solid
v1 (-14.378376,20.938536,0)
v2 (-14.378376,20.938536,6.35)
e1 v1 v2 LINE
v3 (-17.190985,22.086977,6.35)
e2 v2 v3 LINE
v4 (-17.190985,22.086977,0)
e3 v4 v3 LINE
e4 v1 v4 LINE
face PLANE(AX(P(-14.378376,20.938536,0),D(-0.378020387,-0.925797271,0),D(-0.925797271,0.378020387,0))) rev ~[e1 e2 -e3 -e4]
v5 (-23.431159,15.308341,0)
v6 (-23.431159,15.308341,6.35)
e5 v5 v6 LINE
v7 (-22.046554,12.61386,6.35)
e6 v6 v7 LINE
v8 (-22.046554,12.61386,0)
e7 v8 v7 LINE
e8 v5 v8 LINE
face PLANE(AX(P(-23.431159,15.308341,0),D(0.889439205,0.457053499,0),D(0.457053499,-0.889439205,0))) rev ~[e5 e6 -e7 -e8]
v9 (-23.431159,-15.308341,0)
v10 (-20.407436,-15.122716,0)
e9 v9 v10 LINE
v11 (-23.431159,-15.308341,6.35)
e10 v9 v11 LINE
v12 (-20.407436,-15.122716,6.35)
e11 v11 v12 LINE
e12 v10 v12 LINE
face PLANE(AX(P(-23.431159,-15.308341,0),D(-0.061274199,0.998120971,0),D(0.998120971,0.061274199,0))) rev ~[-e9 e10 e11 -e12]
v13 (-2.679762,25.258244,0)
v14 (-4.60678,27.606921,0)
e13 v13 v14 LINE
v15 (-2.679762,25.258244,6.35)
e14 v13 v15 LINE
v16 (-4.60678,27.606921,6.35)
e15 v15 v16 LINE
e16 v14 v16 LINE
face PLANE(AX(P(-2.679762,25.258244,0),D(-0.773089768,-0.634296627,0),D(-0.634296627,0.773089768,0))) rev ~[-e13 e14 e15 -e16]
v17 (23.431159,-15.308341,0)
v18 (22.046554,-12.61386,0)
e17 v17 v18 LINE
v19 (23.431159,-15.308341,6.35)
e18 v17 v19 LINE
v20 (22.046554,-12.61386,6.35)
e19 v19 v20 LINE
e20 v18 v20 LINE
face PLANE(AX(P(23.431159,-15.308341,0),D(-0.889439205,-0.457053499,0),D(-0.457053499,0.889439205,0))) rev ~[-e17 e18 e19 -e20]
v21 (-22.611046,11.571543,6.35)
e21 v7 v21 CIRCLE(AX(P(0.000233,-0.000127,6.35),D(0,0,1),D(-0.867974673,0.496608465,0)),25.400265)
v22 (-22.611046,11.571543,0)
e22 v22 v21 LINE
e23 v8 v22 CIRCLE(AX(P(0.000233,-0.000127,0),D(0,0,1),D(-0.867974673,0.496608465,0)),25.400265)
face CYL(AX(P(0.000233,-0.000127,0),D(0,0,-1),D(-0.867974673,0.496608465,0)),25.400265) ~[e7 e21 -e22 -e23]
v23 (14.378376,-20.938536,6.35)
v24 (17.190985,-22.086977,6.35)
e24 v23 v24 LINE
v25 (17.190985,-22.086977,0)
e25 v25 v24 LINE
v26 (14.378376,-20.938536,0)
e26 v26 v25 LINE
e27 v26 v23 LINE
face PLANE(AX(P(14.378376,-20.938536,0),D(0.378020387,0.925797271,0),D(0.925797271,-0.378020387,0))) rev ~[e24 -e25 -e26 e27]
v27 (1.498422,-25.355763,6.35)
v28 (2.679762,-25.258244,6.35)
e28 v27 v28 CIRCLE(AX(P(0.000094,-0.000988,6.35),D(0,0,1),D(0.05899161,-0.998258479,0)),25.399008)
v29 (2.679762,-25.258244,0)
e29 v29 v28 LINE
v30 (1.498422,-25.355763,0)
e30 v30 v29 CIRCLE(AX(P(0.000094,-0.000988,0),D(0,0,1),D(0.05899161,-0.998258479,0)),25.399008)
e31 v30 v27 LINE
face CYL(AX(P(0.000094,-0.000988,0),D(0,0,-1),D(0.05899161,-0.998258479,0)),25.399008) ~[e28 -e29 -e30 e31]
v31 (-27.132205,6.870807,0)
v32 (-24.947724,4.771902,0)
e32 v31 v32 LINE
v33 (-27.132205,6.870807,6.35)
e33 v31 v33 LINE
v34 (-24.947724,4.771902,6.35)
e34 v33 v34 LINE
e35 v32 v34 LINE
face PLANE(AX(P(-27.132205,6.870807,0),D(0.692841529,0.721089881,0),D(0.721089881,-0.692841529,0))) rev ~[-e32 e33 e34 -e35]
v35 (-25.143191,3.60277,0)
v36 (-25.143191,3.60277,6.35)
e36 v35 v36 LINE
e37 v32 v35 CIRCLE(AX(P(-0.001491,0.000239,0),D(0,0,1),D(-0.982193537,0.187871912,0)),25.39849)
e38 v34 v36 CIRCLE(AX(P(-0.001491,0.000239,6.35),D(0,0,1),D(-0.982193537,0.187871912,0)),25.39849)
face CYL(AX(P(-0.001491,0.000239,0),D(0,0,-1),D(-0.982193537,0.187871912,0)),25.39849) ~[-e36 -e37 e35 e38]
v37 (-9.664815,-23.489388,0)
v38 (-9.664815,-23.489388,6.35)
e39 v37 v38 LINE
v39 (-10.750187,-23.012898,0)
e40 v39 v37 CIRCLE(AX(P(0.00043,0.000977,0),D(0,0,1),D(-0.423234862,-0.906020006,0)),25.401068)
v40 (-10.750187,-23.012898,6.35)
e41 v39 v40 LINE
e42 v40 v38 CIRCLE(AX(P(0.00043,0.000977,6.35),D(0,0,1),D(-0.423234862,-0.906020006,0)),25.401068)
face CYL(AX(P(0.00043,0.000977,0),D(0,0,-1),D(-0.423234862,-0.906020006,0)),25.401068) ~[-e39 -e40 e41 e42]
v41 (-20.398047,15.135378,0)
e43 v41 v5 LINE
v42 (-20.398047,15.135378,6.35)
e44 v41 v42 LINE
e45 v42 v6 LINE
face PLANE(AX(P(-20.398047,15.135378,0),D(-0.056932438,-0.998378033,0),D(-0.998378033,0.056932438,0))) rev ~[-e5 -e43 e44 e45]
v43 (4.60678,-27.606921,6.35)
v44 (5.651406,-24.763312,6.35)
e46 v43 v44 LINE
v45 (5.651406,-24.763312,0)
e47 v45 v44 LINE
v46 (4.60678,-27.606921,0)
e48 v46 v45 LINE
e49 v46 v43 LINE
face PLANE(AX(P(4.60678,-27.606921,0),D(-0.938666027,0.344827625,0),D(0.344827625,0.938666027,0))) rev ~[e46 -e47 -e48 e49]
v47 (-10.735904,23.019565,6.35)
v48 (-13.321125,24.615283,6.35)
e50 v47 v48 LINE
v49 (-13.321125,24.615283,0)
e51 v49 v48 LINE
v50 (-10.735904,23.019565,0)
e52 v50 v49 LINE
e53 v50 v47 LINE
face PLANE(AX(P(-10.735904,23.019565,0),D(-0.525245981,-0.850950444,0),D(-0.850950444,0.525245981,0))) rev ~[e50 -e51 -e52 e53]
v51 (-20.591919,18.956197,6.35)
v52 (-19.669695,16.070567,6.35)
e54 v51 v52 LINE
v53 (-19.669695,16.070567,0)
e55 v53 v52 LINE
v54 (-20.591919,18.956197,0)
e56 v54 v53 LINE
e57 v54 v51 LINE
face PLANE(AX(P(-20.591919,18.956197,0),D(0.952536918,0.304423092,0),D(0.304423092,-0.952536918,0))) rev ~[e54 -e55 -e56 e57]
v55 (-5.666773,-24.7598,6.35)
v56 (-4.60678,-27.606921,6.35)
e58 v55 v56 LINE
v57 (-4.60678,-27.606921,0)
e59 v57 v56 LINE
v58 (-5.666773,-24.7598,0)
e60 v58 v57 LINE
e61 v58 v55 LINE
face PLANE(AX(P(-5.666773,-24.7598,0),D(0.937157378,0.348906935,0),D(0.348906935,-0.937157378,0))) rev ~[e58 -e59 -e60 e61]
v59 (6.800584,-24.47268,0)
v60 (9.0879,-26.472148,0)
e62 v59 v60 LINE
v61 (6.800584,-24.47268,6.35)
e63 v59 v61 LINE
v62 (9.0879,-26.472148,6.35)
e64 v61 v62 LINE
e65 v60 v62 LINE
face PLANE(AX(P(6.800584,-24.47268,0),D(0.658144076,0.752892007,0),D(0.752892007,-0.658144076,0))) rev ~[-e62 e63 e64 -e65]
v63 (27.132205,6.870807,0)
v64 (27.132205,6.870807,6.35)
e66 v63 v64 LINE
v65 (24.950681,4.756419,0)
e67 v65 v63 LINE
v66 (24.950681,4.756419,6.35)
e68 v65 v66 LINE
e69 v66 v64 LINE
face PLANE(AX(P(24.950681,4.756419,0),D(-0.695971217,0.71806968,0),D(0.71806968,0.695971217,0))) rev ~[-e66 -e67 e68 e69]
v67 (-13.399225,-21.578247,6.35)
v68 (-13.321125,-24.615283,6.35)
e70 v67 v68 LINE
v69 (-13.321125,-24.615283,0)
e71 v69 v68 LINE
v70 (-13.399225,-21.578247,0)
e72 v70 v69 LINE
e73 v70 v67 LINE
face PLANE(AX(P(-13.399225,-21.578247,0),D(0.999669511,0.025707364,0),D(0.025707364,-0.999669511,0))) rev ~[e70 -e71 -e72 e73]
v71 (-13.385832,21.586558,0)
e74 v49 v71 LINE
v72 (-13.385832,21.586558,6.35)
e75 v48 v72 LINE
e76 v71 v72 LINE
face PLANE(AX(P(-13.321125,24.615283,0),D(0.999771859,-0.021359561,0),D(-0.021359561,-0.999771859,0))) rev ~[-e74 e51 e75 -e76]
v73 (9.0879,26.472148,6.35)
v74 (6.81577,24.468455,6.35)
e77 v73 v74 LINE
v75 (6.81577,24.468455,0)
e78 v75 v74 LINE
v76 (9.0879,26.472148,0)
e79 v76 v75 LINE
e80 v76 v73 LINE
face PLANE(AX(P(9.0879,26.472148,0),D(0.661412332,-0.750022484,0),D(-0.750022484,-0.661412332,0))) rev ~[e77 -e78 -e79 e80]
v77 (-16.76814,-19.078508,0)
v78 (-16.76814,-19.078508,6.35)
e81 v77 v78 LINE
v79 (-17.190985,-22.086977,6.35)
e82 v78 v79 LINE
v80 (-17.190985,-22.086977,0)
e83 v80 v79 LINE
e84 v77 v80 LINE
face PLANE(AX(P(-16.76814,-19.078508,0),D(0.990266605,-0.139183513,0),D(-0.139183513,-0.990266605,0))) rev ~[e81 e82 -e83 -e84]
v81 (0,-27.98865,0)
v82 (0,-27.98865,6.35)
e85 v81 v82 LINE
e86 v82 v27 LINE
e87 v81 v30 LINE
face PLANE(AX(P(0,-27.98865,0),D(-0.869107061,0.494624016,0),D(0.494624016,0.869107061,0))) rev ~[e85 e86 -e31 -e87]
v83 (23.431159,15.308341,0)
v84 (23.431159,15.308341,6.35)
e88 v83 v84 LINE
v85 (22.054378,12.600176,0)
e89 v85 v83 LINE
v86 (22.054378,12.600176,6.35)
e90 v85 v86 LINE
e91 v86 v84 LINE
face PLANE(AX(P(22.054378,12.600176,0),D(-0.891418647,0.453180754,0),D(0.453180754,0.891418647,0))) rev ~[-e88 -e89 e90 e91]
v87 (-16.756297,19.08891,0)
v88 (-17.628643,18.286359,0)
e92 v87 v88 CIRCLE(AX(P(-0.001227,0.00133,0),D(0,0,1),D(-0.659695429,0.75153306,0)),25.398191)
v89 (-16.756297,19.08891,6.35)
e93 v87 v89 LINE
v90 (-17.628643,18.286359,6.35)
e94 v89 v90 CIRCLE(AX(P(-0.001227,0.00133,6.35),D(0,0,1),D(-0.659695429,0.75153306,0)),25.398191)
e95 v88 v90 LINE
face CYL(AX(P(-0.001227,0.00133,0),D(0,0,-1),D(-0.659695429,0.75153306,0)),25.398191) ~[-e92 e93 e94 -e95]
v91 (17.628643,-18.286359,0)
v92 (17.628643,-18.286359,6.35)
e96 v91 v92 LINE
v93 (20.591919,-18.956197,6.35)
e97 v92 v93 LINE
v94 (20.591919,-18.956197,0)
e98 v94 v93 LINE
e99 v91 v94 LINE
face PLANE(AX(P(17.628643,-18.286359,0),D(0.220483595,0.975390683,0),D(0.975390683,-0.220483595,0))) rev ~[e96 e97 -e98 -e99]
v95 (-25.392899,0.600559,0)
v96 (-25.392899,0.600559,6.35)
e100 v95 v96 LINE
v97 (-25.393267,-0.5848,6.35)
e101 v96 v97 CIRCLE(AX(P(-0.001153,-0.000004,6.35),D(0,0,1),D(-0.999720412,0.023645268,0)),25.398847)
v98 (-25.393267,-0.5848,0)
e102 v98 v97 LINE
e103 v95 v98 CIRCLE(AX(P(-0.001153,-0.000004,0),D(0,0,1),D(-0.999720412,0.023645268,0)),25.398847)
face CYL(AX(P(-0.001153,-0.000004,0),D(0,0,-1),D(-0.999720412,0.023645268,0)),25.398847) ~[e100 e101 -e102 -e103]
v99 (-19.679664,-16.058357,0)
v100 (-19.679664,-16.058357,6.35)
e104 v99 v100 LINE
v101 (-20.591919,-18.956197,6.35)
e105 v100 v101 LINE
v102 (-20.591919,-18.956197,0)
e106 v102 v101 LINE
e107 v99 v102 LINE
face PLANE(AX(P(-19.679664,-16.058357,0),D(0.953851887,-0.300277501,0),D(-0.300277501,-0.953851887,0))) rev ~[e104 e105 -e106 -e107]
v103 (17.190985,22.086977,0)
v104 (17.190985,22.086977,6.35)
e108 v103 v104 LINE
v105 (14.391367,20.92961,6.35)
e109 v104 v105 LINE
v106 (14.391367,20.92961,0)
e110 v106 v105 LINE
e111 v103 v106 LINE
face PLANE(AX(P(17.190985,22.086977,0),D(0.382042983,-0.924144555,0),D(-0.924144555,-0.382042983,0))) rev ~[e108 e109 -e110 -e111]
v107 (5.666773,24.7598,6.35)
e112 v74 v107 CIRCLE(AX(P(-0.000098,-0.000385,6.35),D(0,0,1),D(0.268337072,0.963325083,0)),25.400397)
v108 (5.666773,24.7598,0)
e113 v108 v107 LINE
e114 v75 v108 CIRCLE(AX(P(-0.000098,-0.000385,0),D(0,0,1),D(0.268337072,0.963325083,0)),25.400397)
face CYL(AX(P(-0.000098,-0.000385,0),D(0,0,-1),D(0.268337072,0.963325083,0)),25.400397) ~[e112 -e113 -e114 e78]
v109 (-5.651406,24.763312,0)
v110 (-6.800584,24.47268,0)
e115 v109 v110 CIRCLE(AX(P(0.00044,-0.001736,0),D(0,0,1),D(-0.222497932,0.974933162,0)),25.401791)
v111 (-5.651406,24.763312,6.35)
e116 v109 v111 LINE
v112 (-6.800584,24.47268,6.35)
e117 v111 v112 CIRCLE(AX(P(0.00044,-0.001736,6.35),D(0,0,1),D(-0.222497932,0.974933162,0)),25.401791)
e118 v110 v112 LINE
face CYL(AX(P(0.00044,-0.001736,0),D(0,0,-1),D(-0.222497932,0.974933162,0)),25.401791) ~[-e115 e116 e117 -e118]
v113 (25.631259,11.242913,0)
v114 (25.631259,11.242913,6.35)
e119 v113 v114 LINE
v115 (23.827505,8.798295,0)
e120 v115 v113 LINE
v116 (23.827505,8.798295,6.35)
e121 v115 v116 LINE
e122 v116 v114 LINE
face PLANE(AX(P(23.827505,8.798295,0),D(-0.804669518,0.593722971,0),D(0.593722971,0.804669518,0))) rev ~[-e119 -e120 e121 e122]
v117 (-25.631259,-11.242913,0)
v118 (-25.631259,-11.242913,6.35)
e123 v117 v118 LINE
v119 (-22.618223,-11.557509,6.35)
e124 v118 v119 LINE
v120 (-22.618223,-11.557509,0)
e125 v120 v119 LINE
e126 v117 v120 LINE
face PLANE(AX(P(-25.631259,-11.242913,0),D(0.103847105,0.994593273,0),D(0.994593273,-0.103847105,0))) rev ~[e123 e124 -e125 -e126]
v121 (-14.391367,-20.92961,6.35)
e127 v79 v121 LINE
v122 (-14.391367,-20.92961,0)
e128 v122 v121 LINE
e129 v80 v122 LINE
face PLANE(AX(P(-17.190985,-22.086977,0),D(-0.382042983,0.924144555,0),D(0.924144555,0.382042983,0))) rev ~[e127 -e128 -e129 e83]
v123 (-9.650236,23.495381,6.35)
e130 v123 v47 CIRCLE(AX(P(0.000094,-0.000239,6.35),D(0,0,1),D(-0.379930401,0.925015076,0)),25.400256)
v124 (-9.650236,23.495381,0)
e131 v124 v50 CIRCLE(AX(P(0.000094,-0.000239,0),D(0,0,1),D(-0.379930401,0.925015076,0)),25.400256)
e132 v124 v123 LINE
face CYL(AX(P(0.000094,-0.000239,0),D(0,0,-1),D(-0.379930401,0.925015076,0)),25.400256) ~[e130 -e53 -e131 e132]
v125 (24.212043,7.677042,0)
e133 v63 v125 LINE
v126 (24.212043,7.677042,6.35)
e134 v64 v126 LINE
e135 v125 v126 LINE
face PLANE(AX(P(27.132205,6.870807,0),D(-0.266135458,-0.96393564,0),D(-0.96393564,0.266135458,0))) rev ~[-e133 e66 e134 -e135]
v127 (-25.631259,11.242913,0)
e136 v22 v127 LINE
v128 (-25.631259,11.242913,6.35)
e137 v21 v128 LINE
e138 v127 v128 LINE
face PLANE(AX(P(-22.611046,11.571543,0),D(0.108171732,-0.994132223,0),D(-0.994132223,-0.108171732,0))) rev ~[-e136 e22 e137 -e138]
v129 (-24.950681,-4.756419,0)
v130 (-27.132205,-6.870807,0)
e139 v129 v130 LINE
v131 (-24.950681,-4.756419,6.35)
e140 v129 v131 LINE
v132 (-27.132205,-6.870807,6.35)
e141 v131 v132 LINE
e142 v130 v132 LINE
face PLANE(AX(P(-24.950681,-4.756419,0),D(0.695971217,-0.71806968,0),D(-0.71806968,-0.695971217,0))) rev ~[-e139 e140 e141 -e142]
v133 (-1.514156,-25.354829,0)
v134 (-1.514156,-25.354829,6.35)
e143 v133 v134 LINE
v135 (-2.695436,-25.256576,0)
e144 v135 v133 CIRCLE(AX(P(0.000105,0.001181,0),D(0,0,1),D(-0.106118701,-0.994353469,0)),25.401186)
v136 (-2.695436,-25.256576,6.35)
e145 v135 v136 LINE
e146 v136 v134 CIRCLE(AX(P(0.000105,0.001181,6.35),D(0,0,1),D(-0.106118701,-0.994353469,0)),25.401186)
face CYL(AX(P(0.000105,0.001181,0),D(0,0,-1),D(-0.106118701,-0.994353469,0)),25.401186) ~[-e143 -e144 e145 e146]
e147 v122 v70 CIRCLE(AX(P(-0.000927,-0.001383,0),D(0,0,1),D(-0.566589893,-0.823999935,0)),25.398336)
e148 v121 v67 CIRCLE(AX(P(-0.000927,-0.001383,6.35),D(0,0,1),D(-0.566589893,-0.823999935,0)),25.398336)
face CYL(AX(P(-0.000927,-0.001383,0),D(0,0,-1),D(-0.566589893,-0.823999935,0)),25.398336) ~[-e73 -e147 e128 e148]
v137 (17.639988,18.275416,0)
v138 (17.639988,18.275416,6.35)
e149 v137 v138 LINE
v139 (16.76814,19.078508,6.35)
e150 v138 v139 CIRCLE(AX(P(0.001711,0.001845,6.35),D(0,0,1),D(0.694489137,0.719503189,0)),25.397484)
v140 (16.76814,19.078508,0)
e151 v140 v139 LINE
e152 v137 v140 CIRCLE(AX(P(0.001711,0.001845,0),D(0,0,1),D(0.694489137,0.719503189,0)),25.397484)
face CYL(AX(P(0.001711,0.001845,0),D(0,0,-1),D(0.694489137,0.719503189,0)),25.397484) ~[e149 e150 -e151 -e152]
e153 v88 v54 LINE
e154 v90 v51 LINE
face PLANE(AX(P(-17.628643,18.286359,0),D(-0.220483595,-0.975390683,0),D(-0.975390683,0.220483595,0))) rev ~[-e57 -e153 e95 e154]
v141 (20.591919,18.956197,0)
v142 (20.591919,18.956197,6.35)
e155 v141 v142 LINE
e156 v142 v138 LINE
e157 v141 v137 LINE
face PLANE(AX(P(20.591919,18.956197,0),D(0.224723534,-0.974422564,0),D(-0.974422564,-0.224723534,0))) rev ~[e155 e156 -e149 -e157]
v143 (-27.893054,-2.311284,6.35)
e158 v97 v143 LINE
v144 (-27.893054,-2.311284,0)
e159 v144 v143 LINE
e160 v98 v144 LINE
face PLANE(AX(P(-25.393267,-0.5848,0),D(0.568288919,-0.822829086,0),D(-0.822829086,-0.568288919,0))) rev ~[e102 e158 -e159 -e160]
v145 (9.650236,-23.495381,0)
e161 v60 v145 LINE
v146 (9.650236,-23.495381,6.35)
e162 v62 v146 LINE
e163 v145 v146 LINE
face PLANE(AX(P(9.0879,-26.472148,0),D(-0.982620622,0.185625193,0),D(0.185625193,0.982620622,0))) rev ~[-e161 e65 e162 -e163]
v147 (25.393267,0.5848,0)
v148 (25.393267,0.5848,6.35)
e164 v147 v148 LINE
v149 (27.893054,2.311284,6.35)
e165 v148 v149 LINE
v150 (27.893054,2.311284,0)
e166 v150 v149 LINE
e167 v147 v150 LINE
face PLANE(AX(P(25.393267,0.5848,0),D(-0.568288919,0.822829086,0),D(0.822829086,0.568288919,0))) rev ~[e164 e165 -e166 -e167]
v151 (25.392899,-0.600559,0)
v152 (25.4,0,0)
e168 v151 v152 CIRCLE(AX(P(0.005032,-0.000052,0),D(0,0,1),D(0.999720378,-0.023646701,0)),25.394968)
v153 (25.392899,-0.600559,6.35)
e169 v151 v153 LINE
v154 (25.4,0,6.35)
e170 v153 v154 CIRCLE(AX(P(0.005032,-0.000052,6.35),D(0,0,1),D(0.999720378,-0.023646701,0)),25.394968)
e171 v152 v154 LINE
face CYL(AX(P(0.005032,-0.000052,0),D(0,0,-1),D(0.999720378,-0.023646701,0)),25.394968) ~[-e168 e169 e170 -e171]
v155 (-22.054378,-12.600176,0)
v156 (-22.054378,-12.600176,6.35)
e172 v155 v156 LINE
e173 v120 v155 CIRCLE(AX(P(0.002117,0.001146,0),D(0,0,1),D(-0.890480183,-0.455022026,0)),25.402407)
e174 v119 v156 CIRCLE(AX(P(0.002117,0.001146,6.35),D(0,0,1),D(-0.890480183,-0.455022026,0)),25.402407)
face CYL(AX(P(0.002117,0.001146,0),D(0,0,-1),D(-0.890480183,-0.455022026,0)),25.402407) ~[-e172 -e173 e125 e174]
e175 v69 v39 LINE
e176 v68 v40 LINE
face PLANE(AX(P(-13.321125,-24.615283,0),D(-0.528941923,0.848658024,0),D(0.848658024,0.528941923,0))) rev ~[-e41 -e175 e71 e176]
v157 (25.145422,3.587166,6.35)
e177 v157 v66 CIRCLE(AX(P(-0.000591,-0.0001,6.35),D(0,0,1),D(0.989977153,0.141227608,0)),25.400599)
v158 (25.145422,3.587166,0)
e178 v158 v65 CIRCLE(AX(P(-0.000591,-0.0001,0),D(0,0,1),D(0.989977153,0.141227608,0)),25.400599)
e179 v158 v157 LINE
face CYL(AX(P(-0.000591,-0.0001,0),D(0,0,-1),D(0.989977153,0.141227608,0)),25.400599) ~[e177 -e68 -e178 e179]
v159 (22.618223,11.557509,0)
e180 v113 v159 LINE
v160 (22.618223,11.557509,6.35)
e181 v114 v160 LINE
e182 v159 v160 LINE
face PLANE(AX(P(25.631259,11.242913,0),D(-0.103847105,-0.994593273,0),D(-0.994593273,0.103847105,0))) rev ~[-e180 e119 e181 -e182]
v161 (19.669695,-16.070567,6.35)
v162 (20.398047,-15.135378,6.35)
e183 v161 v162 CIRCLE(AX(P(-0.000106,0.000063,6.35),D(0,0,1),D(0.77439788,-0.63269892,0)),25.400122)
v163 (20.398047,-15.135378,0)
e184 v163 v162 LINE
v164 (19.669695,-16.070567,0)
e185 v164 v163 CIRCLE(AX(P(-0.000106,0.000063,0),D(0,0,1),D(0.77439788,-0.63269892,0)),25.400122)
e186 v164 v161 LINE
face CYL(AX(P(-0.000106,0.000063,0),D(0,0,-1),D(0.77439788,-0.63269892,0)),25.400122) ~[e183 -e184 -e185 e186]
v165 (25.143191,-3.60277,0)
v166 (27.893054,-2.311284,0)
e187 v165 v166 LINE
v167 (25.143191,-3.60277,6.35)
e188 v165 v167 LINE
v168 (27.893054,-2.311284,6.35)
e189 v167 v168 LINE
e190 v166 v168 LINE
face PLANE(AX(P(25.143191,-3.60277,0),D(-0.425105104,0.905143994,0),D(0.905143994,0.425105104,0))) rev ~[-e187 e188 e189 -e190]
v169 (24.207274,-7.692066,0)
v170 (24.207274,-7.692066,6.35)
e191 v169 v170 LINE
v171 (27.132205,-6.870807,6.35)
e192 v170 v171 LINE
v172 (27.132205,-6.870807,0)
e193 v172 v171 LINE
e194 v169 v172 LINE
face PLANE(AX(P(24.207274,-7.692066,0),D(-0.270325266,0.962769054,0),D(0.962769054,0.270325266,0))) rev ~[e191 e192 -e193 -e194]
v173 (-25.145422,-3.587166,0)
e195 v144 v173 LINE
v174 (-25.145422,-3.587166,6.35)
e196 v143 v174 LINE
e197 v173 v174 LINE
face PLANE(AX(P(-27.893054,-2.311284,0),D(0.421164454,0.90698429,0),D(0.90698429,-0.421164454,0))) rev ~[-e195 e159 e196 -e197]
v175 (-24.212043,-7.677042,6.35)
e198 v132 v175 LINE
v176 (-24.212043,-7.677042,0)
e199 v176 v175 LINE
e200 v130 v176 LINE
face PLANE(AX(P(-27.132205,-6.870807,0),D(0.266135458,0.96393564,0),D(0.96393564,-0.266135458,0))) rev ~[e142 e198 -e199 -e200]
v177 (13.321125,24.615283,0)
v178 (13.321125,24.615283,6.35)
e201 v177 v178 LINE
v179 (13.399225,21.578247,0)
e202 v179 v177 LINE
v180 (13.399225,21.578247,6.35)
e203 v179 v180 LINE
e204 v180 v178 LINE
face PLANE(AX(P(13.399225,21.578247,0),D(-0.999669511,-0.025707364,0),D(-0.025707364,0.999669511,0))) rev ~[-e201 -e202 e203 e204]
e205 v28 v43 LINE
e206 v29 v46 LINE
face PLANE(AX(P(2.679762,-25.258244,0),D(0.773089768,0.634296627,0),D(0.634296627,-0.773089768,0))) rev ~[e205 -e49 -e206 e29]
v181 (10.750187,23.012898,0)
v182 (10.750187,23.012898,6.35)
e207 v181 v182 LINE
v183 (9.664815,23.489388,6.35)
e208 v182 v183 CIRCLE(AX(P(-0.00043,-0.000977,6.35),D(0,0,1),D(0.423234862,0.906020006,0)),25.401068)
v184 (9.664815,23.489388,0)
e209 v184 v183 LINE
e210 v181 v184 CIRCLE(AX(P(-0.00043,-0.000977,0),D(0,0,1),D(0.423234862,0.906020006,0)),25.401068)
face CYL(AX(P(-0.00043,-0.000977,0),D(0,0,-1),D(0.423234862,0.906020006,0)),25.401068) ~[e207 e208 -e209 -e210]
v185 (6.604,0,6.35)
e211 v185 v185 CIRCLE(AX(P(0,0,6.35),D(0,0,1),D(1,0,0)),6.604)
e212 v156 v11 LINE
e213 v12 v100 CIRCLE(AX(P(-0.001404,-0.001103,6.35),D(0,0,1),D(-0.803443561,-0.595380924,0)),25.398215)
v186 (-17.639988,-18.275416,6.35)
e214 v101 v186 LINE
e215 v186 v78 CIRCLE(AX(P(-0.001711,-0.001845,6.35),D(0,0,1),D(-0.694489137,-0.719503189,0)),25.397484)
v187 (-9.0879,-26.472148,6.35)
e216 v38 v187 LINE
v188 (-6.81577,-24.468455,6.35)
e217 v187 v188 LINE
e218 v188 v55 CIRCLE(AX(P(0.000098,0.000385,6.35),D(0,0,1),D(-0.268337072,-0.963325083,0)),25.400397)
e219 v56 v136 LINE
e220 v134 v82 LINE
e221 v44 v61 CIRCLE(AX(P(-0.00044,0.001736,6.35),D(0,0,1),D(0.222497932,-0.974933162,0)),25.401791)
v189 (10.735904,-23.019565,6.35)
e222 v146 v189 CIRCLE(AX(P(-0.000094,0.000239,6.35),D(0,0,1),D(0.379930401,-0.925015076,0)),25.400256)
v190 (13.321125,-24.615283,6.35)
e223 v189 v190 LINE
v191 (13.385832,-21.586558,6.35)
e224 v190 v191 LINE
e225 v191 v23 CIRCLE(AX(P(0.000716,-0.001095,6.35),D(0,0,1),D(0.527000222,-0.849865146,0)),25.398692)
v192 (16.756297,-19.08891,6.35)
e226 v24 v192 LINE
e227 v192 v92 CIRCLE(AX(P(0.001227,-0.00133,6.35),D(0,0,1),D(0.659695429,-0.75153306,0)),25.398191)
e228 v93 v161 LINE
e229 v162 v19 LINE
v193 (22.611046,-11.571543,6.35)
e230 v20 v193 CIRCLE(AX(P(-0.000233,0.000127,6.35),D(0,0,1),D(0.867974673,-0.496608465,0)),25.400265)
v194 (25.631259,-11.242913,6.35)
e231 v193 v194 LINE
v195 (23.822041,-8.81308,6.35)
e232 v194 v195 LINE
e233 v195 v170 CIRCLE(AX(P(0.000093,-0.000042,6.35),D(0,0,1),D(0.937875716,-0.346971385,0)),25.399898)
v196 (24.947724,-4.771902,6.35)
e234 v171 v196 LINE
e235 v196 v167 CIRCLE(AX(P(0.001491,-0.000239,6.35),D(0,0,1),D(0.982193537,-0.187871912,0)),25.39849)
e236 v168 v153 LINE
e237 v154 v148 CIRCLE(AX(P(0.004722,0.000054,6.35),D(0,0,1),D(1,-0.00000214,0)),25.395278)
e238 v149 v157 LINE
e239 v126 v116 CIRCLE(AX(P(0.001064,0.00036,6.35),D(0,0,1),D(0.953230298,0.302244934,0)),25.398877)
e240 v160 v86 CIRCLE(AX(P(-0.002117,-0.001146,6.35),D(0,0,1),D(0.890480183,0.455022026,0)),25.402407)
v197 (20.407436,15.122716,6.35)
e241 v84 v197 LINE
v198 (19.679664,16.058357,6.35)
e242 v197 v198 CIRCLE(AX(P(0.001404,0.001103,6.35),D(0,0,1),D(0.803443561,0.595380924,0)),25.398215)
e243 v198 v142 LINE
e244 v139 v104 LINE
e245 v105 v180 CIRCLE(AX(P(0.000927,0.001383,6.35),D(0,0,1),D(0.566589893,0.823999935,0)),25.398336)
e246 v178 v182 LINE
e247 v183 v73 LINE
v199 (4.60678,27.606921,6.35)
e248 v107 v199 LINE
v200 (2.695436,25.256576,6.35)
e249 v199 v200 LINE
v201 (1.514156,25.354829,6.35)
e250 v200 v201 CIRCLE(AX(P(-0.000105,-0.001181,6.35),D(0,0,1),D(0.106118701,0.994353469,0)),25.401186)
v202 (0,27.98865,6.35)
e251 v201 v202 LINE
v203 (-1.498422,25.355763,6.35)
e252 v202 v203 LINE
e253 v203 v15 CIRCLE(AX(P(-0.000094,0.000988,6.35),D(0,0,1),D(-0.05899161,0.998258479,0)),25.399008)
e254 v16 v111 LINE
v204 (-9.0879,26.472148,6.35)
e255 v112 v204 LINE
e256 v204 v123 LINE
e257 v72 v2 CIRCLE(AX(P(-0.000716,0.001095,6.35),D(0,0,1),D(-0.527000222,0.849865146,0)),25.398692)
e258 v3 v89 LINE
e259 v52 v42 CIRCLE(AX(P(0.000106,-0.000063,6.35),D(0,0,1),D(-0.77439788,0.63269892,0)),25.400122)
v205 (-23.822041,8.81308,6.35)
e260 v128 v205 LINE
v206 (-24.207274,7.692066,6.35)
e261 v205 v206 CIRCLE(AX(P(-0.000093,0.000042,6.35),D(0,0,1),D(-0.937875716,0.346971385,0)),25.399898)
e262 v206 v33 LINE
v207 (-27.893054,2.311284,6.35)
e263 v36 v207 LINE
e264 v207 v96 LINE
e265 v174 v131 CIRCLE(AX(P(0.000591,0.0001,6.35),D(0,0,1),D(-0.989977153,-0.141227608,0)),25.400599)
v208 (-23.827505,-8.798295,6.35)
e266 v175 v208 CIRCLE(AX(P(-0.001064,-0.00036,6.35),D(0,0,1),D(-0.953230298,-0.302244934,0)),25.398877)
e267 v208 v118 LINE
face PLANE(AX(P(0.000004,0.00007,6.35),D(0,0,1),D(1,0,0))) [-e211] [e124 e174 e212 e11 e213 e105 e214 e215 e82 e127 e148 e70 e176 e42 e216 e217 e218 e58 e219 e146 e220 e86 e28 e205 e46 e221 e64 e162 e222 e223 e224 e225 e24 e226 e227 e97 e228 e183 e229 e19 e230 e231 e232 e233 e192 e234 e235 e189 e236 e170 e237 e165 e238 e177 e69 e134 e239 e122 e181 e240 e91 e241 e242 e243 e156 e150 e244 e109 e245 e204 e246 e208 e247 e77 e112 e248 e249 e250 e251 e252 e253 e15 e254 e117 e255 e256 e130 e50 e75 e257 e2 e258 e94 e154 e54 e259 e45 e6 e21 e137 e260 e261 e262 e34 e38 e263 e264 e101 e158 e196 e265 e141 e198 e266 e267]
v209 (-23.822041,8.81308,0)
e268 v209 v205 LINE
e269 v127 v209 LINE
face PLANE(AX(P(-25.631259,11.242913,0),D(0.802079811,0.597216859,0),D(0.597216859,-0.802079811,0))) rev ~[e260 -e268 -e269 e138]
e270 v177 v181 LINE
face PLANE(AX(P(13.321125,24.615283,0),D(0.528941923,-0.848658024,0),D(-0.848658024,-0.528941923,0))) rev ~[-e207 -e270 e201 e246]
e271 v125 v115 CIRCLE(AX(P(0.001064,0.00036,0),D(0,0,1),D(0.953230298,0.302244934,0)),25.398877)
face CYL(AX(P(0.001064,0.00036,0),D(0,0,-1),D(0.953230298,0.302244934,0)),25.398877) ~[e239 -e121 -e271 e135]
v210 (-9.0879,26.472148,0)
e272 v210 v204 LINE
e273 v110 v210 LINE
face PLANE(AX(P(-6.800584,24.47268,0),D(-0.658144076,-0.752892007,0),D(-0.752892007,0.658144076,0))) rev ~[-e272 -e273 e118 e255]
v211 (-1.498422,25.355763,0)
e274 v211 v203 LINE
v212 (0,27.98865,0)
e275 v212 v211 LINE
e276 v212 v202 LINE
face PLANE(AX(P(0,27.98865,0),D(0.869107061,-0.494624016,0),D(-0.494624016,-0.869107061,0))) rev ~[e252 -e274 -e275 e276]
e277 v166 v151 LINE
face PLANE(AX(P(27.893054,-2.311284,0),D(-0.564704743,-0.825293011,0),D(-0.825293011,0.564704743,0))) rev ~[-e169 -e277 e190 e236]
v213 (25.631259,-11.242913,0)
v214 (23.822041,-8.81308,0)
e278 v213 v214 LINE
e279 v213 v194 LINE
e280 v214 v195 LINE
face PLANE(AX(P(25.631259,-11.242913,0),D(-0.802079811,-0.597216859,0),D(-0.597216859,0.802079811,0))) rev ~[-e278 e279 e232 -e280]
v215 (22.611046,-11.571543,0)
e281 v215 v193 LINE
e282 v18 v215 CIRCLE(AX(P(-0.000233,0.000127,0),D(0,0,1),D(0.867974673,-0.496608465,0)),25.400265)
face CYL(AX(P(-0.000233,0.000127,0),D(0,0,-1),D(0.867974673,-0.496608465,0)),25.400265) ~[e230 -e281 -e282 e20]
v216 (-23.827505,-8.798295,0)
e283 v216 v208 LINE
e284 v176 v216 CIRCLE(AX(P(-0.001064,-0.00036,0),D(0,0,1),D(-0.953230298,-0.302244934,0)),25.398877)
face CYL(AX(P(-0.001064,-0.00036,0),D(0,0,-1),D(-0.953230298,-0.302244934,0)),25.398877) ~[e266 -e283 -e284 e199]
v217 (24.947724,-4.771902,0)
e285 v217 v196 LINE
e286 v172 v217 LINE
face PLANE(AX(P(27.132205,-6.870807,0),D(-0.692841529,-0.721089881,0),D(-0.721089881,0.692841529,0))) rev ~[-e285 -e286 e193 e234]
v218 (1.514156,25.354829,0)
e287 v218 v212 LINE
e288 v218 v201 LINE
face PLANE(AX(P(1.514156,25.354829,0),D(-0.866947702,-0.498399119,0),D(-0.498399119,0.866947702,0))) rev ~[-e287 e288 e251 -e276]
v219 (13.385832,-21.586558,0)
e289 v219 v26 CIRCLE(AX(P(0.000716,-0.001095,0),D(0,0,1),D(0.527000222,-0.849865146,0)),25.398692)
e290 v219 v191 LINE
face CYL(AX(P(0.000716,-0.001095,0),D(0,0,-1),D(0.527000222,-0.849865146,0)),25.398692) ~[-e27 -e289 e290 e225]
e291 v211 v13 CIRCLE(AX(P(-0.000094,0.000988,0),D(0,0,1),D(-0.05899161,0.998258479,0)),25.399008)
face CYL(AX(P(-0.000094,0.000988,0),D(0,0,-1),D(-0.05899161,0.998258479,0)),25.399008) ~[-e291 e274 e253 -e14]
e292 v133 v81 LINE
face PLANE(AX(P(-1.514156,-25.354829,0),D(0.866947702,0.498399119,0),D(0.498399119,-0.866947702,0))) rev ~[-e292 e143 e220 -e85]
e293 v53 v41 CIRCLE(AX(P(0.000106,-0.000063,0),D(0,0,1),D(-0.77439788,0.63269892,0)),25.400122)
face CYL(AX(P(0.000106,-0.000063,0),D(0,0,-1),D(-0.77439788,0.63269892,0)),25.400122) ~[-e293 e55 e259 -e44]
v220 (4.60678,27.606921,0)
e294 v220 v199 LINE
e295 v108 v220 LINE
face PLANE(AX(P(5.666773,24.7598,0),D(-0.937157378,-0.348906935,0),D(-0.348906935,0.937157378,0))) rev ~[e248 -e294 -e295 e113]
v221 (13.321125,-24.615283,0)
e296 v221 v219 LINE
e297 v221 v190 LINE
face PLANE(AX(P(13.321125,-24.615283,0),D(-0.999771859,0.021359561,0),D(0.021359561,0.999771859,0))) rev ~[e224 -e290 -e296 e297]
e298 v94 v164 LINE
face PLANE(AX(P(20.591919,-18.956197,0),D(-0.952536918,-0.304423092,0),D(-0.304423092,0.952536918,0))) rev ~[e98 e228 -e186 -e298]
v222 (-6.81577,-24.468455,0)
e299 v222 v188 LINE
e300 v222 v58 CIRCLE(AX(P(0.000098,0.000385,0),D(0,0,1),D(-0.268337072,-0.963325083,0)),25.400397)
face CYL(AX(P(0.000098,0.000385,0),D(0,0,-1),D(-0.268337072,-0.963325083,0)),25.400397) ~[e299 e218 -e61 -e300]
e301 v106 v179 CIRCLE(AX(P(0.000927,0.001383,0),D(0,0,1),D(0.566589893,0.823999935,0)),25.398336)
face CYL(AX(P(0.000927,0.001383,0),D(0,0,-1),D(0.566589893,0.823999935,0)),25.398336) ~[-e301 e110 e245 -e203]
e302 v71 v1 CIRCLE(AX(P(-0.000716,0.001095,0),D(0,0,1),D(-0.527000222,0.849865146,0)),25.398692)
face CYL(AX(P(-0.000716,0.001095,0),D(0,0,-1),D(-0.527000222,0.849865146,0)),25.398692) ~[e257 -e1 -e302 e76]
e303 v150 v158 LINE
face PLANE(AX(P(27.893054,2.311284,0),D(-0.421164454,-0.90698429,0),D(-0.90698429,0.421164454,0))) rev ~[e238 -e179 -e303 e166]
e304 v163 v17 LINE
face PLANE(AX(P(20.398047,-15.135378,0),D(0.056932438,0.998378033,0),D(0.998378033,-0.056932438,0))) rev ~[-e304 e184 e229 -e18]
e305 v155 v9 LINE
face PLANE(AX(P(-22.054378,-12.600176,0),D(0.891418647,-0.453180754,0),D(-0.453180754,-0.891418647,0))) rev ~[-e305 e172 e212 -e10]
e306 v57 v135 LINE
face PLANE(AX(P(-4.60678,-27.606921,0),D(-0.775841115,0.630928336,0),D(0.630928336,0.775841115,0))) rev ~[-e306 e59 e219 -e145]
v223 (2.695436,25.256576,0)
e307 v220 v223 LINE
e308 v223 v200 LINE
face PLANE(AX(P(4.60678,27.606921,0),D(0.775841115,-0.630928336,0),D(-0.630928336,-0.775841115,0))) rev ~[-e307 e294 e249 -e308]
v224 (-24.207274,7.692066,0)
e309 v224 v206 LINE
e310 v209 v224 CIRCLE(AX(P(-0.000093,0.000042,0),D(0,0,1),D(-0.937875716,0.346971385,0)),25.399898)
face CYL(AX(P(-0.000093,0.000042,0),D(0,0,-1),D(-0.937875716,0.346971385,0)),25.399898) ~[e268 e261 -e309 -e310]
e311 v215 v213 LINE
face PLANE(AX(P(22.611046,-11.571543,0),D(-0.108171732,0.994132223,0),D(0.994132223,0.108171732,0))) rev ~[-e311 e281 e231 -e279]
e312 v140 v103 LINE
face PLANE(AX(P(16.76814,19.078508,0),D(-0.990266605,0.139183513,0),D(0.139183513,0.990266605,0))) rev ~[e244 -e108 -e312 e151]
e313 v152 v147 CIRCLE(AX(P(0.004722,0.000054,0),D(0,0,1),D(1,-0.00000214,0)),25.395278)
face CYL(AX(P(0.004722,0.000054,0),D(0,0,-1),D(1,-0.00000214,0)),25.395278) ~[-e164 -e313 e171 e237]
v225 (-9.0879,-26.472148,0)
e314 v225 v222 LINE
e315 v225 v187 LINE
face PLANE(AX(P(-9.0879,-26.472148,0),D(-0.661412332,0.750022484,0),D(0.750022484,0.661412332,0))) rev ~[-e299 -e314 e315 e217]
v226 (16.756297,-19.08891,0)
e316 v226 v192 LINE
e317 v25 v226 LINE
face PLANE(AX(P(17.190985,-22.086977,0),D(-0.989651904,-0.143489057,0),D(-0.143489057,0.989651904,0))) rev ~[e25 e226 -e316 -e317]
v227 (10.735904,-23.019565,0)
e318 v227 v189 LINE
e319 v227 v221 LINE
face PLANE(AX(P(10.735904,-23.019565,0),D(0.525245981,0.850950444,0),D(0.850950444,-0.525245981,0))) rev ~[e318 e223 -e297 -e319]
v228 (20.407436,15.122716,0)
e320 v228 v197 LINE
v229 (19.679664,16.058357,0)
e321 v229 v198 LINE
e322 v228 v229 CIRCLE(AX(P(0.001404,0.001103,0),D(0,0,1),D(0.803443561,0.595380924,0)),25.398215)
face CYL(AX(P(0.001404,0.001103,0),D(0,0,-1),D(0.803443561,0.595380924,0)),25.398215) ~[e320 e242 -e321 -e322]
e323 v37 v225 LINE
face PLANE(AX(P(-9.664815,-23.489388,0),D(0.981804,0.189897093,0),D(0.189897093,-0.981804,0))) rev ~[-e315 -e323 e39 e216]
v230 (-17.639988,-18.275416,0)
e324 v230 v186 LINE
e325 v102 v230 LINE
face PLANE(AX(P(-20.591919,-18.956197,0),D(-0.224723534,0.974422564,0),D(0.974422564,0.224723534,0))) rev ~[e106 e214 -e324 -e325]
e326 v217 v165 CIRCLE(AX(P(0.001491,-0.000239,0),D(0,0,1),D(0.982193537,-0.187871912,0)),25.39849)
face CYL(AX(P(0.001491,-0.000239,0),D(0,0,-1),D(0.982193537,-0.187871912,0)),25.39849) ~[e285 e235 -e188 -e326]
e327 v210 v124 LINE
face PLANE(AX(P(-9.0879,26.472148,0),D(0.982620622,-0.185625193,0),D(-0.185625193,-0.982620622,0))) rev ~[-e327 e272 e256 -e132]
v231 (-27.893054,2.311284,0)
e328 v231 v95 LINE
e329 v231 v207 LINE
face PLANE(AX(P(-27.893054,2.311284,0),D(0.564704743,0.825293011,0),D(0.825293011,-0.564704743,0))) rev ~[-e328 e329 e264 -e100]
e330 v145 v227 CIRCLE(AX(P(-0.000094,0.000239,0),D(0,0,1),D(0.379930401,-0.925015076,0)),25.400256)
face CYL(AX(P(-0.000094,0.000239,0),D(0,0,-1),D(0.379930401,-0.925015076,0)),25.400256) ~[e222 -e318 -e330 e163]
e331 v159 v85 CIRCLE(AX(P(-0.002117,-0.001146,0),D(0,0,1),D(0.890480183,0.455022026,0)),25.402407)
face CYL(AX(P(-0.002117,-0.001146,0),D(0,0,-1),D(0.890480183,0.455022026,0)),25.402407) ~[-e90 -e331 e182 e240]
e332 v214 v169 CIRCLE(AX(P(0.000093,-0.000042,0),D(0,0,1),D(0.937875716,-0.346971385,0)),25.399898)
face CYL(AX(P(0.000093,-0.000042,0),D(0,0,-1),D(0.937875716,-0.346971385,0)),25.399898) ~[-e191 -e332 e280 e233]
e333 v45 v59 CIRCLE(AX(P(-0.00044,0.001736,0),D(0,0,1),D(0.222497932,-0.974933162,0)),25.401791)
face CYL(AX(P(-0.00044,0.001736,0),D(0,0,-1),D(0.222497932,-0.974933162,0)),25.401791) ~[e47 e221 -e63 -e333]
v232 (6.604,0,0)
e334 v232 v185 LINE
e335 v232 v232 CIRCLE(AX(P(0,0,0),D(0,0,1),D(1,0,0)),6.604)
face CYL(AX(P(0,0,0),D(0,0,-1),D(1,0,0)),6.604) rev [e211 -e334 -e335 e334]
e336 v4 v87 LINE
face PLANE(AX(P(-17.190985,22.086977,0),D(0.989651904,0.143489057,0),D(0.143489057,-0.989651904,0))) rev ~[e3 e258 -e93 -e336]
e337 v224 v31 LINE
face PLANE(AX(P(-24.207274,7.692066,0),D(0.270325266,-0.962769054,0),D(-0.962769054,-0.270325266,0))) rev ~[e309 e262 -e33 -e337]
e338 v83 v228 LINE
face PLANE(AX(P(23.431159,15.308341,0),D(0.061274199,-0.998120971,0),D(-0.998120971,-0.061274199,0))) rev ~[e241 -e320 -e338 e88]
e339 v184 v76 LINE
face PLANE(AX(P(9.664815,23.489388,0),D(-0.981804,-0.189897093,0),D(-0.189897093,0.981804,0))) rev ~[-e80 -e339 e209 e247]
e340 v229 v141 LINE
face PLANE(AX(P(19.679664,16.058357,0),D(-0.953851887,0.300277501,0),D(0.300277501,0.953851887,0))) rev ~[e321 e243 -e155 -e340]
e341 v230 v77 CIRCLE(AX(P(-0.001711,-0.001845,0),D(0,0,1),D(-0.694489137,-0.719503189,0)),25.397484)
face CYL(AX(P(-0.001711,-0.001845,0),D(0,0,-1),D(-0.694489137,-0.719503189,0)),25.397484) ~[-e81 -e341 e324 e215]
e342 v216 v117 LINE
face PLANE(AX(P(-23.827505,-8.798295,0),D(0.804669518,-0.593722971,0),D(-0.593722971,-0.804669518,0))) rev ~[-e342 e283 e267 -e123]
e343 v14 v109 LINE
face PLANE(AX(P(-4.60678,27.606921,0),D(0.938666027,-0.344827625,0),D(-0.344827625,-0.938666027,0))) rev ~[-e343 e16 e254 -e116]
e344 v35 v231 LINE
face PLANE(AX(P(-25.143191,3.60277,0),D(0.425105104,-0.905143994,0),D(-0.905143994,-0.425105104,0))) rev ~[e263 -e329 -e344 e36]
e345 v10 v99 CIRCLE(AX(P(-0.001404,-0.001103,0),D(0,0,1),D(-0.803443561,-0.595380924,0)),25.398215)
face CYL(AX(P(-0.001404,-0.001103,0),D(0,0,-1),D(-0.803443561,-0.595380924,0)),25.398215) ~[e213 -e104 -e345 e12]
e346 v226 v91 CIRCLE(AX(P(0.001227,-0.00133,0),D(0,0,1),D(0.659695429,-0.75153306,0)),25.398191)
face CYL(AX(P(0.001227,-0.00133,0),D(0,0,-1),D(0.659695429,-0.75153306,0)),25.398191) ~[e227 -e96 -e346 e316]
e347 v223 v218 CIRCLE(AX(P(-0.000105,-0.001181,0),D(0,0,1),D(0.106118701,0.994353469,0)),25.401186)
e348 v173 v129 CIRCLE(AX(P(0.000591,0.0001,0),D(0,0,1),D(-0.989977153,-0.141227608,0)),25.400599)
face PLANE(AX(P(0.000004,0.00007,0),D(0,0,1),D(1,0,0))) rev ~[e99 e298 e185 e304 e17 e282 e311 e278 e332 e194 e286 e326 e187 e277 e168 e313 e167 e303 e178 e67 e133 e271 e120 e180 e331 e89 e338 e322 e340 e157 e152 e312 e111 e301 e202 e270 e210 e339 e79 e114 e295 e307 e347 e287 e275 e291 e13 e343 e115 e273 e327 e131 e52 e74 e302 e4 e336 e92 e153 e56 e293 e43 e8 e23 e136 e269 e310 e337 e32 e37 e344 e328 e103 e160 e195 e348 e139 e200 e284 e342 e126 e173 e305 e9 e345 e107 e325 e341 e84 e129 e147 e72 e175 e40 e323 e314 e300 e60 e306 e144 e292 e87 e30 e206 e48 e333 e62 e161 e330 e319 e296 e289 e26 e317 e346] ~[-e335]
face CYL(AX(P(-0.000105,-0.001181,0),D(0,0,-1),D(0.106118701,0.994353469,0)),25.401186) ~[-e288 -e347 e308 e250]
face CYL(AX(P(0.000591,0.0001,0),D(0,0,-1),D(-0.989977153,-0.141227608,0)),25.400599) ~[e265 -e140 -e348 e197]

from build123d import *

# Parameters (mm, degrees)
F0_R     = 6.604
F1_DEPTH = 6.35


with BuildPart() as f1:
    # F0 (on Top) → F1 (new body)
    with BuildSketch(Plane.XY):
        with BuildLine():
            ThreePointArc((25.392899, -0.600559), (25.398225, -0.3003), (25.4, 0))
            ThreePointArc((25.4, 0), (25.398317, 0.29242), (25.393267, 0.5848))
            ThreePointArc((25.393267, 0.5848), (25.313896, 2.089661), (25.145422, 3.587166))
            ThreePointArc((25.145422, 3.587166), (25.054873, 4.172929), (24.950681, 4.756419))
            ThreePointArc((24.950681, 4.756419), (24.6247, 6.227691), (24.212043, 7.677042))
            ThreePointArc((24.212043, 7.677042), (24.026316, 8.239912), (23.827505, 8.798295))
            ThreePointArc((23.827505, 8.798295), (23.263807, 10.195846), (22.618223, 11.557509))
            ThreePointArc((22.618223, 11.557509), (22.342383, 12.082132), (22.054378, 12.600176))
            ThreePointArc((22.054378, 12.600176), (21.268338, 13.885885), (20.407436, 15.122716))
            ThreePointArc((20.407436, 15.122716), (20.049009, 15.594783), (19.679664, 16.058357))
            ThreePointArc((19.679664, 16.058357), (18.692724, 17.197153), (17.639988, 18.275416))
            ThreePointArc((17.639988, 18.275416), (17.20875, 18.682049), (16.76814, 19.078508))
            ThreePointArc((16.76814, 19.078508), (15.607222, 20.039327), (14.391367, 20.92961))
            ThreePointArc((14.391367, 20.92961), (13.899081, 21.259717), (13.399225, 21.578247))
            ThreePointArc((13.399225, 21.578247), (12.095995, 22.334881), (10.750187, 23.012898))
            ThreePointArc((10.750187, 23.012898), (10.210281, 23.257475), (9.664815, 23.489388))
            ThreePointArc((9.664815, 23.489388), (8.25482, 24.021198), (6.81577, 24.468455))
            ThreePointArc((6.81577, 24.468455), (6.242971, 24.620831), (5.666773, 24.7598))
            ThreePointArc((5.666773, 24.7598), (4.188476, 25.052279), (2.695436, 25.256576))
            ThreePointArc((2.695436, 25.256576), (2.10537, 25.312594), (1.514156, 25.354829))
            ThreePointArc((1.514156, 25.354829), (0.757415, 25.388705), (0, 25.4))
            ThreePointArc((0, 25.4), (-0.749537, 25.388938), (-1.498422, 25.355763))
            ThreePointArc((-1.498422, 25.355763), (-2.089661, 25.313896), (-2.679762, 25.258244))
            ThreePointArc((-2.679762, 25.258244), (-4.172929, 25.054873), (-5.651406, 24.763312))
            ThreePointArc((-5.651406, 24.763312), (-6.227691, 24.6247), (-6.800584, 24.47268))
            ThreePointArc((-6.800584, 24.47268), (-8.239912, 24.026316), (-9.650236, 23.495381))
            ThreePointArc((-9.650236, 23.495381), (-10.195846, 23.263807), (-10.735904, 23.019565))
            ThreePointArc((-10.735904, 23.019565), (-12.082132, 22.342383), (-13.385832, 21.586558))
            ThreePointArc((-13.385832, 21.586558), (-13.885885, 21.268338), (-14.378376, 20.938536))
            ThreePointArc((-14.378376, 20.938536), (-15.594783, 20.049009), (-16.756297, 19.08891))
            ThreePointArc((-16.756297, 19.08891), (-17.197153, 18.692724), (-17.628643, 18.286359))
            ThreePointArc((-17.628643, 18.286359), (-18.682049, 17.20875), (-19.669695, 16.070567))
            ThreePointArc((-19.669695, 16.070567), (-20.039327, 15.607222), (-20.398047, 15.135378))
            ThreePointArc((-20.398047, 15.135378), (-21.259717, 13.899081), (-22.046554, 12.61386))
            ThreePointArc((-22.046554, 12.61386), (-22.334881, 12.095995), (-22.611046, 11.571543))
            ThreePointArc((-22.611046, 11.571543), (-23.257475, 10.210281), (-23.822041, 8.81308))
            ThreePointArc((-23.822041, 8.81308), (-24.021198, 8.25482), (-24.207274, 7.692066))
            ThreePointArc((-24.207274, 7.692066), (-24.620831, 6.242971), (-24.947724, 4.771902))
            ThreePointArc((-24.947724, 4.771902), (-25.052279, 4.188476), (-25.143191, 3.60277))
            ThreePointArc((-25.143191, 3.60277), (-25.312594, 2.10537), (-25.392899, 0.600559))
            ThreePointArc((-25.392899, 0.600559), (-25.399999, 0.007881), (-25.393267, -0.5848))
            ThreePointArc((-25.393267, -0.5848), (-25.313896, -2.089661), (-25.145422, -3.587166))
            ThreePointArc((-25.145422, -3.587166), (-25.054873, -4.172929), (-24.950681, -4.756419))
            ThreePointArc((-24.950681, -4.756419), (-24.6247, -6.227691), (-24.212043, -7.677042))
            ThreePointArc((-24.212043, -7.677042), (-24.026316, -8.239912), (-23.827505, -8.798295))
            ThreePointArc((-23.827505, -8.798295), (-23.263807, -10.195846), (-22.618223, -11.557509))
            ThreePointArc((-22.618223, -11.557509), (-22.342383, -12.082132), (-22.054378, -12.600176))
            ThreePointArc((-22.054378, -12.600176), (-21.268338, -13.885885), (-20.407436, -15.122716))
            ThreePointArc((-20.407436, -15.122716), (-20.049009, -15.594783), (-19.679664, -16.058357))
            ThreePointArc((-19.679664, -16.058357), (-18.692724, -17.197153), (-17.639988, -18.275416))
            ThreePointArc((-17.639988, -18.275416), (-17.20875, -18.682049), (-16.76814, -19.078508))
            ThreePointArc((-16.76814, -19.078508), (-15.607222, -20.039327), (-14.391367, -20.92961))
            ThreePointArc((-14.391367, -20.92961), (-13.899081, -21.259717), (-13.399225, -21.578247))
            ThreePointArc((-13.399225, -21.578247), (-12.095995, -22.334881), (-10.750187, -23.012898))
            ThreePointArc((-10.750187, -23.012898), (-10.210281, -23.257475), (-9.664815, -23.489388))
            ThreePointArc((-9.664815, -23.489388), (-8.25482, -24.021198), (-6.81577, -24.468455))
            ThreePointArc((-6.81577, -24.468455), (-6.242971, -24.620831), (-5.666773, -24.7598))
            ThreePointArc((-5.666773, -24.7598), (-4.188476, -25.052279), (-2.695436, -25.256576))
            ThreePointArc((-2.695436, -25.256576), (-2.10537, -25.312594), (-1.514156, -25.354829))
            ThreePointArc((-1.514156, -25.354829), (-0.007881, -25.399999), (1.498422, -25.355763))
            ThreePointArc((1.498422, -25.355763), (2.089661, -25.313896), (2.679762, -25.258244))
            ThreePointArc((2.679762, -25.258244), (4.172929, -25.054873), (5.651406, -24.763312))
            ThreePointArc((5.651406, -24.763312), (6.227691, -24.6247), (6.800584, -24.47268))
            ThreePointArc((6.800584, -24.47268), (8.239912, -24.026316), (9.650236, -23.495381))
            ThreePointArc((9.650236, -23.495381), (10.195846, -23.263807), (10.735904, -23.019565))
            ThreePointArc((10.735904, -23.019565), (12.082132, -22.342383), (13.385832, -21.586558))
            ThreePointArc((13.385832, -21.586558), (13.885885, -21.268338), (14.378376, -20.938536))
            ThreePointArc((14.378376, -20.938536), (15.594783, -20.049009), (16.756297, -19.08891))
            ThreePointArc((16.756297, -19.08891), (17.197153, -18.692724), (17.628643, -18.286359))
            ThreePointArc((17.628643, -18.286359), (18.682049, -17.20875), (19.669695, -16.070567))
            ThreePointArc((19.669695, -16.070567), (20.039327, -15.607222), (20.398047, -15.135378))
            ThreePointArc((20.398047, -15.135378), (21.259717, -13.899081), (22.046554, -12.61386))
            ThreePointArc((22.046554, -12.61386), (22.334881, -12.095995), (22.611046, -11.571543))
            ThreePointArc((22.611046, -11.571543), (23.257475, -10.210281), (23.822041, -8.81308))
            ThreePointArc((23.822041, -8.81308), (24.021198, -8.25482), (24.207274, -7.692066))
            ThreePointArc((24.207274, -7.692066), (24.620831, -6.242971), (24.947724, -4.771902))
            ThreePointArc((24.947724, -4.771902), (25.052279, -4.188476), (25.143191, -3.60277))
            ThreePointArc((25.143191, -3.60277), (25.312594, -2.10537), (25.392899, -0.600559))
        make_face()
        Circle(F0_R, mode=Mode.SUBTRACT)
        with BuildLine():
            ThreePointArc((25.145422, 3.587166), (25.313896, 2.089661), (25.393267, 0.5848))
            Line((25.393267, 0.5848), (27.893054, 2.311284))
            Line((27.893054, 2.311284), (25.145422, 3.587166))
        make_face()
        with BuildLine():
            Line((27.893054, -2.311284), (25.392899, -0.600559))
            ThreePointArc((25.392899, -0.600559), (25.312594, -2.10537), (25.143191, -3.60277))
            Line((25.143191, -3.60277), (27.893054, -2.311284))
        make_face()
        with BuildLine():
            ThreePointArc((24.212043, 7.677042), (24.6247, 6.227691), (24.950681, 4.756419))
            Line((24.950681, 4.756419), (27.132205, 6.870807))
            Line((27.132205, 6.870807), (24.212043, 7.677042))
        make_face()
        with BuildLine():
            Line((27.132205, -6.870807), (24.947724, -4.771902))
            ThreePointArc((24.947724, -4.771902), (24.620831, -6.242971), (24.207274, -7.692066))
            Line((24.207274, -7.692066), (27.132205, -6.870807))
        make_face()
        with BuildLine():
            ThreePointArc((22.618223, 11.557509), (23.263807, 10.195846), (23.827505, 8.798295))
            Line((23.827505, 8.798295), (25.631259, 11.242913))
            Line((25.631259, 11.242913), (22.618223, 11.557509))
        make_face()
        with BuildLine():
            Line((25.631259, -11.242913), (23.822041, -8.81308))
            ThreePointArc((23.822041, -8.81308), (23.257475, -10.210281), (22.611046, -11.571543))
            Line((22.611046, -11.571543), (25.631259, -11.242913))
        make_face()
        with BuildLine():
            ThreePointArc((20.407436, 15.122716), (21.268338, 13.885885), (22.054378, 12.600176))
            Line((22.054378, 12.600176), (23.431159, 15.308341))
            Line((23.431159, 15.308341), (20.407436, 15.122716))
        make_face()
        with BuildLine():
            Line((23.431159, -15.308341), (22.046554, -12.61386))
            ThreePointArc((22.046554, -12.61386), (21.259717, -13.899081), (20.398047, -15.135378))
            Line((20.398047, -15.135378), (23.431159, -15.308341))
        make_face()
        with BuildLine():
            ThreePointArc((17.639988, 18.275416), (18.692724, 17.197153), (19.679664, 16.058357))
            Line((19.679664, 16.058357), (20.591919, 18.956197))
            Line((20.591919, 18.956197), (17.639988, 18.275416))
        make_face()
        with BuildLine():
            Line((20.591919, -18.956197), (19.669695, -16.070567))
            ThreePointArc((19.669695, -16.070567), (18.682049, -17.20875), (17.628643, -18.286359))
            Line((17.628643, -18.286359), (20.591919, -18.956197))
        make_face()
        with BuildLine():
            ThreePointArc((14.391367, 20.92961), (15.607222, 20.039327), (16.76814, 19.078508))
            Line((16.76814, 19.078508), (17.190985, 22.086977))
            Line((17.190985, 22.086977), (14.391367, 20.92961))
        make_face()
        with BuildLine():
            Line((17.190985, -22.086977), (16.756297, -19.08891))
            ThreePointArc((16.756297, -19.08891), (15.594783, -20.049009), (14.378376, -20.938536))
            Line((14.378376, -20.938536), (17.190985, -22.086977))
        make_face()
        with BuildLine():
            ThreePointArc((10.750187, 23.012898), (12.095995, 22.334881), (13.399225, 21.578247))
            Line((13.399225, 21.578247), (13.321125, 24.615283))
            Line((13.321125, 24.615283), (10.750187, 23.012898))
        make_face()
        with BuildLine():
            Line((13.321125, -24.615283), (13.385832, -21.586558))
            ThreePointArc((13.385832, -21.586558), (12.082132, -22.342383), (10.735904, -23.019565))
            Line((10.735904, -23.019565), (13.321125, -24.615283))
        make_face()
        with BuildLine():
            ThreePointArc((6.81577, 24.468455), (8.25482, 24.021198), (9.664815, 23.489388))
            Line((9.664815, 23.489388), (9.0879, 26.472148))
            Line((9.0879, 26.472148), (6.81577, 24.468455))
        make_face()
        with BuildLine():
            Line((9.0879, -26.472148), (9.650236, -23.495381))
            ThreePointArc((9.650236, -23.495381), (8.239912, -24.026316), (6.800584, -24.47268))
            Line((6.800584, -24.47268), (9.0879, -26.472148))
        make_face()
        with BuildLine():
            ThreePointArc((2.695436, 25.256576), (4.188476, 25.052279), (5.666773, 24.7598))
            Line((5.666773, 24.7598), (4.60678, 27.606921))
            Line((4.60678, 27.606921), (2.695436, 25.256576))
        make_face()
        with BuildLine():
            Line((4.60678, -27.606921), (5.651406, -24.763312))
            ThreePointArc((5.651406, -24.763312), (4.172929, -25.054873), (2.679762, -25.258244))
            Line((2.679762, -25.258244), (4.60678, -27.606921))
        make_face()
        with BuildLine():
            ThreePointArc((0, 25.4), (0.757415, 25.388705), (1.514156, 25.354829))
            Line((1.514156, 25.354829), (0, 27.98865))
            Line((0, 27.98865), (0, 25.4))
        make_face()
        with BuildLine():
            Line((0, -27.98865), (1.498422, -25.355763))
            ThreePointArc((1.498422, -25.355763), (-0.007881, -25.399999), (-1.514156, -25.354829))
            Line((-1.514156, -25.354829), (0, -27.98865))
        make_face()
        with BuildLine():
            ThreePointArc((-1.498422, 25.355763), (-0.749537, 25.388938), (0, 25.4))
            Line((0, 25.4), (0, 27.98865))
            Line((0, 27.98865), (-1.498422, 25.355763))
        make_face()
        with BuildLine():
            Line((-4.60678, -27.606921), (-2.695436, -25.256576))
            ThreePointArc((-2.695436, -25.256576), (-4.188476, -25.052279), (-5.666773, -24.7598))
            Line((-5.666773, -24.7598), (-4.60678, -27.606921))
        make_face()
        with BuildLine():
            ThreePointArc((-5.651406, 24.763312), (-4.172929, 25.054873), (-2.679762, 25.258244))
            Line((-2.679762, 25.258244), (-4.60678, 27.606921))
            Line((-4.60678, 27.606921), (-5.651406, 24.763312))
        make_face()
        with BuildLine():
            Line((-9.0879, -26.472148), (-6.81577, -24.468455))
            ThreePointArc((-6.81577, -24.468455), (-8.25482, -24.021198), (-9.664815, -23.489388))
            Line((-9.664815, -23.489388), (-9.0879, -26.472148))
        make_face()
        with BuildLine():
            ThreePointArc((-9.650236, 23.495381), (-8.239912, 24.026316), (-6.800584, 24.47268))
            Line((-6.800584, 24.47268), (-9.0879, 26.472148))
            Line((-9.0879, 26.472148), (-9.650236, 23.495381))
        make_face()
        with BuildLine():
            Line((-13.321125, -24.615283), (-10.750187, -23.012898))
            ThreePointArc((-10.750187, -23.012898), (-12.095995, -22.334881), (-13.399225, -21.578247))
            Line((-13.399225, -21.578247), (-13.321125, -24.615283))
        make_face()
        with BuildLine():
            ThreePointArc((-13.385832, 21.586558), (-12.082132, 22.342383), (-10.735904, 23.019565))
            Line((-10.735904, 23.019565), (-13.321125, 24.615283))
            Line((-13.321125, 24.615283), (-13.385832, 21.586558))
        make_face()
        with BuildLine():
            Line((-17.190985, -22.086977), (-14.391367, -20.92961))
            ThreePointArc((-14.391367, -20.92961), (-15.607222, -20.039327), (-16.76814, -19.078508))
            Line((-16.76814, -19.078508), (-17.190985, -22.086977))
        make_face()
        with BuildLine():
            ThreePointArc((-16.756297, 19.08891), (-15.594783, 20.049009), (-14.378376, 20.938536))
            Line((-14.378376, 20.938536), (-17.190985, 22.086977))
            Line((-17.190985, 22.086977), (-16.756297, 19.08891))
        make_face()
        with BuildLine():
            Line((-20.591919, -18.956197), (-17.639988, -18.275416))
            ThreePointArc((-17.639988, -18.275416), (-18.692724, -17.197153), (-19.679664, -16.058357))
            Line((-19.679664, -16.058357), (-20.591919, -18.956197))
        make_face()
        with BuildLine():
            ThreePointArc((-19.669695, 16.070567), (-18.682049, 17.20875), (-17.628643, 18.286359))
            Line((-17.628643, 18.286359), (-20.591919, 18.956197))
            Line((-20.591919, 18.956197), (-19.669695, 16.070567))
        make_face()
        with BuildLine():
            Line((-23.431159, -15.308341), (-20.407436, -15.122716))
            ThreePointArc((-20.407436, -15.122716), (-21.268338, -13.885885), (-22.054378, -12.600176))
            Line((-22.054378, -12.600176), (-23.431159, -15.308341))
        make_face()
        with BuildLine():
            ThreePointArc((-22.046554, 12.61386), (-21.259717, 13.899081), (-20.398047, 15.135378))
            Line((-20.398047, 15.135378), (-23.431159, 15.308341))
            Line((-23.431159, 15.308341), (-22.046554, 12.61386))
        make_face()
        with BuildLine():
            Line((-25.631259, -11.242913), (-22.618223, -11.557509))
            ThreePointArc((-22.618223, -11.557509), (-23.263807, -10.195846), (-23.827505, -8.798295))
            Line((-23.827505, -8.798295), (-25.631259, -11.242913))
        make_face()
        with BuildLine():
            ThreePointArc((-23.822041, 8.81308), (-23.257475, 10.210281), (-22.611046, 11.571543))
            Line((-22.611046, 11.571543), (-25.631259, 11.242913))
            Line((-25.631259, 11.242913), (-23.822041, 8.81308))
        make_face()
        with BuildLine():
            Line((-27.132205, -6.870807), (-24.212043, -7.677042))
            ThreePointArc((-24.212043, -7.677042), (-24.6247, -6.227691), (-24.950681, -4.756419))
            Line((-24.950681, -4.756419), (-27.132205, -6.870807))
        make_face()
        with BuildLine():
            ThreePointArc((-24.947724, 4.771902), (-24.620831, 6.242971), (-24.207274, 7.692066))
            Line((-24.207274, 7.692066), (-27.132205, 6.870807))
            Line((-27.132205, 6.870807), (-24.947724, 4.771902))
        make_face()
        with BuildLine():
            Line((-27.893054, -2.311284), (-25.145422, -3.587166))
            ThreePointArc((-25.145422, -3.587166), (-25.313896, -2.089661), (-25.393267, -0.5848))
            Line((-25.393267, -0.5848), (-27.893054, -2.311284))
        make_face()
        with BuildLine():
            ThreePointArc((-25.392899, 0.600559), (-25.312594, 2.10537), (-25.143191, 3.60277))
            Line((-25.143191, 3.60277), (-27.893054, 2.311284))
            Line((-27.893054, 2.311284), (-25.392899, 0.600559))
        make_face()
    extrude(amount=F1_DEPTH)


solid = f1.part
